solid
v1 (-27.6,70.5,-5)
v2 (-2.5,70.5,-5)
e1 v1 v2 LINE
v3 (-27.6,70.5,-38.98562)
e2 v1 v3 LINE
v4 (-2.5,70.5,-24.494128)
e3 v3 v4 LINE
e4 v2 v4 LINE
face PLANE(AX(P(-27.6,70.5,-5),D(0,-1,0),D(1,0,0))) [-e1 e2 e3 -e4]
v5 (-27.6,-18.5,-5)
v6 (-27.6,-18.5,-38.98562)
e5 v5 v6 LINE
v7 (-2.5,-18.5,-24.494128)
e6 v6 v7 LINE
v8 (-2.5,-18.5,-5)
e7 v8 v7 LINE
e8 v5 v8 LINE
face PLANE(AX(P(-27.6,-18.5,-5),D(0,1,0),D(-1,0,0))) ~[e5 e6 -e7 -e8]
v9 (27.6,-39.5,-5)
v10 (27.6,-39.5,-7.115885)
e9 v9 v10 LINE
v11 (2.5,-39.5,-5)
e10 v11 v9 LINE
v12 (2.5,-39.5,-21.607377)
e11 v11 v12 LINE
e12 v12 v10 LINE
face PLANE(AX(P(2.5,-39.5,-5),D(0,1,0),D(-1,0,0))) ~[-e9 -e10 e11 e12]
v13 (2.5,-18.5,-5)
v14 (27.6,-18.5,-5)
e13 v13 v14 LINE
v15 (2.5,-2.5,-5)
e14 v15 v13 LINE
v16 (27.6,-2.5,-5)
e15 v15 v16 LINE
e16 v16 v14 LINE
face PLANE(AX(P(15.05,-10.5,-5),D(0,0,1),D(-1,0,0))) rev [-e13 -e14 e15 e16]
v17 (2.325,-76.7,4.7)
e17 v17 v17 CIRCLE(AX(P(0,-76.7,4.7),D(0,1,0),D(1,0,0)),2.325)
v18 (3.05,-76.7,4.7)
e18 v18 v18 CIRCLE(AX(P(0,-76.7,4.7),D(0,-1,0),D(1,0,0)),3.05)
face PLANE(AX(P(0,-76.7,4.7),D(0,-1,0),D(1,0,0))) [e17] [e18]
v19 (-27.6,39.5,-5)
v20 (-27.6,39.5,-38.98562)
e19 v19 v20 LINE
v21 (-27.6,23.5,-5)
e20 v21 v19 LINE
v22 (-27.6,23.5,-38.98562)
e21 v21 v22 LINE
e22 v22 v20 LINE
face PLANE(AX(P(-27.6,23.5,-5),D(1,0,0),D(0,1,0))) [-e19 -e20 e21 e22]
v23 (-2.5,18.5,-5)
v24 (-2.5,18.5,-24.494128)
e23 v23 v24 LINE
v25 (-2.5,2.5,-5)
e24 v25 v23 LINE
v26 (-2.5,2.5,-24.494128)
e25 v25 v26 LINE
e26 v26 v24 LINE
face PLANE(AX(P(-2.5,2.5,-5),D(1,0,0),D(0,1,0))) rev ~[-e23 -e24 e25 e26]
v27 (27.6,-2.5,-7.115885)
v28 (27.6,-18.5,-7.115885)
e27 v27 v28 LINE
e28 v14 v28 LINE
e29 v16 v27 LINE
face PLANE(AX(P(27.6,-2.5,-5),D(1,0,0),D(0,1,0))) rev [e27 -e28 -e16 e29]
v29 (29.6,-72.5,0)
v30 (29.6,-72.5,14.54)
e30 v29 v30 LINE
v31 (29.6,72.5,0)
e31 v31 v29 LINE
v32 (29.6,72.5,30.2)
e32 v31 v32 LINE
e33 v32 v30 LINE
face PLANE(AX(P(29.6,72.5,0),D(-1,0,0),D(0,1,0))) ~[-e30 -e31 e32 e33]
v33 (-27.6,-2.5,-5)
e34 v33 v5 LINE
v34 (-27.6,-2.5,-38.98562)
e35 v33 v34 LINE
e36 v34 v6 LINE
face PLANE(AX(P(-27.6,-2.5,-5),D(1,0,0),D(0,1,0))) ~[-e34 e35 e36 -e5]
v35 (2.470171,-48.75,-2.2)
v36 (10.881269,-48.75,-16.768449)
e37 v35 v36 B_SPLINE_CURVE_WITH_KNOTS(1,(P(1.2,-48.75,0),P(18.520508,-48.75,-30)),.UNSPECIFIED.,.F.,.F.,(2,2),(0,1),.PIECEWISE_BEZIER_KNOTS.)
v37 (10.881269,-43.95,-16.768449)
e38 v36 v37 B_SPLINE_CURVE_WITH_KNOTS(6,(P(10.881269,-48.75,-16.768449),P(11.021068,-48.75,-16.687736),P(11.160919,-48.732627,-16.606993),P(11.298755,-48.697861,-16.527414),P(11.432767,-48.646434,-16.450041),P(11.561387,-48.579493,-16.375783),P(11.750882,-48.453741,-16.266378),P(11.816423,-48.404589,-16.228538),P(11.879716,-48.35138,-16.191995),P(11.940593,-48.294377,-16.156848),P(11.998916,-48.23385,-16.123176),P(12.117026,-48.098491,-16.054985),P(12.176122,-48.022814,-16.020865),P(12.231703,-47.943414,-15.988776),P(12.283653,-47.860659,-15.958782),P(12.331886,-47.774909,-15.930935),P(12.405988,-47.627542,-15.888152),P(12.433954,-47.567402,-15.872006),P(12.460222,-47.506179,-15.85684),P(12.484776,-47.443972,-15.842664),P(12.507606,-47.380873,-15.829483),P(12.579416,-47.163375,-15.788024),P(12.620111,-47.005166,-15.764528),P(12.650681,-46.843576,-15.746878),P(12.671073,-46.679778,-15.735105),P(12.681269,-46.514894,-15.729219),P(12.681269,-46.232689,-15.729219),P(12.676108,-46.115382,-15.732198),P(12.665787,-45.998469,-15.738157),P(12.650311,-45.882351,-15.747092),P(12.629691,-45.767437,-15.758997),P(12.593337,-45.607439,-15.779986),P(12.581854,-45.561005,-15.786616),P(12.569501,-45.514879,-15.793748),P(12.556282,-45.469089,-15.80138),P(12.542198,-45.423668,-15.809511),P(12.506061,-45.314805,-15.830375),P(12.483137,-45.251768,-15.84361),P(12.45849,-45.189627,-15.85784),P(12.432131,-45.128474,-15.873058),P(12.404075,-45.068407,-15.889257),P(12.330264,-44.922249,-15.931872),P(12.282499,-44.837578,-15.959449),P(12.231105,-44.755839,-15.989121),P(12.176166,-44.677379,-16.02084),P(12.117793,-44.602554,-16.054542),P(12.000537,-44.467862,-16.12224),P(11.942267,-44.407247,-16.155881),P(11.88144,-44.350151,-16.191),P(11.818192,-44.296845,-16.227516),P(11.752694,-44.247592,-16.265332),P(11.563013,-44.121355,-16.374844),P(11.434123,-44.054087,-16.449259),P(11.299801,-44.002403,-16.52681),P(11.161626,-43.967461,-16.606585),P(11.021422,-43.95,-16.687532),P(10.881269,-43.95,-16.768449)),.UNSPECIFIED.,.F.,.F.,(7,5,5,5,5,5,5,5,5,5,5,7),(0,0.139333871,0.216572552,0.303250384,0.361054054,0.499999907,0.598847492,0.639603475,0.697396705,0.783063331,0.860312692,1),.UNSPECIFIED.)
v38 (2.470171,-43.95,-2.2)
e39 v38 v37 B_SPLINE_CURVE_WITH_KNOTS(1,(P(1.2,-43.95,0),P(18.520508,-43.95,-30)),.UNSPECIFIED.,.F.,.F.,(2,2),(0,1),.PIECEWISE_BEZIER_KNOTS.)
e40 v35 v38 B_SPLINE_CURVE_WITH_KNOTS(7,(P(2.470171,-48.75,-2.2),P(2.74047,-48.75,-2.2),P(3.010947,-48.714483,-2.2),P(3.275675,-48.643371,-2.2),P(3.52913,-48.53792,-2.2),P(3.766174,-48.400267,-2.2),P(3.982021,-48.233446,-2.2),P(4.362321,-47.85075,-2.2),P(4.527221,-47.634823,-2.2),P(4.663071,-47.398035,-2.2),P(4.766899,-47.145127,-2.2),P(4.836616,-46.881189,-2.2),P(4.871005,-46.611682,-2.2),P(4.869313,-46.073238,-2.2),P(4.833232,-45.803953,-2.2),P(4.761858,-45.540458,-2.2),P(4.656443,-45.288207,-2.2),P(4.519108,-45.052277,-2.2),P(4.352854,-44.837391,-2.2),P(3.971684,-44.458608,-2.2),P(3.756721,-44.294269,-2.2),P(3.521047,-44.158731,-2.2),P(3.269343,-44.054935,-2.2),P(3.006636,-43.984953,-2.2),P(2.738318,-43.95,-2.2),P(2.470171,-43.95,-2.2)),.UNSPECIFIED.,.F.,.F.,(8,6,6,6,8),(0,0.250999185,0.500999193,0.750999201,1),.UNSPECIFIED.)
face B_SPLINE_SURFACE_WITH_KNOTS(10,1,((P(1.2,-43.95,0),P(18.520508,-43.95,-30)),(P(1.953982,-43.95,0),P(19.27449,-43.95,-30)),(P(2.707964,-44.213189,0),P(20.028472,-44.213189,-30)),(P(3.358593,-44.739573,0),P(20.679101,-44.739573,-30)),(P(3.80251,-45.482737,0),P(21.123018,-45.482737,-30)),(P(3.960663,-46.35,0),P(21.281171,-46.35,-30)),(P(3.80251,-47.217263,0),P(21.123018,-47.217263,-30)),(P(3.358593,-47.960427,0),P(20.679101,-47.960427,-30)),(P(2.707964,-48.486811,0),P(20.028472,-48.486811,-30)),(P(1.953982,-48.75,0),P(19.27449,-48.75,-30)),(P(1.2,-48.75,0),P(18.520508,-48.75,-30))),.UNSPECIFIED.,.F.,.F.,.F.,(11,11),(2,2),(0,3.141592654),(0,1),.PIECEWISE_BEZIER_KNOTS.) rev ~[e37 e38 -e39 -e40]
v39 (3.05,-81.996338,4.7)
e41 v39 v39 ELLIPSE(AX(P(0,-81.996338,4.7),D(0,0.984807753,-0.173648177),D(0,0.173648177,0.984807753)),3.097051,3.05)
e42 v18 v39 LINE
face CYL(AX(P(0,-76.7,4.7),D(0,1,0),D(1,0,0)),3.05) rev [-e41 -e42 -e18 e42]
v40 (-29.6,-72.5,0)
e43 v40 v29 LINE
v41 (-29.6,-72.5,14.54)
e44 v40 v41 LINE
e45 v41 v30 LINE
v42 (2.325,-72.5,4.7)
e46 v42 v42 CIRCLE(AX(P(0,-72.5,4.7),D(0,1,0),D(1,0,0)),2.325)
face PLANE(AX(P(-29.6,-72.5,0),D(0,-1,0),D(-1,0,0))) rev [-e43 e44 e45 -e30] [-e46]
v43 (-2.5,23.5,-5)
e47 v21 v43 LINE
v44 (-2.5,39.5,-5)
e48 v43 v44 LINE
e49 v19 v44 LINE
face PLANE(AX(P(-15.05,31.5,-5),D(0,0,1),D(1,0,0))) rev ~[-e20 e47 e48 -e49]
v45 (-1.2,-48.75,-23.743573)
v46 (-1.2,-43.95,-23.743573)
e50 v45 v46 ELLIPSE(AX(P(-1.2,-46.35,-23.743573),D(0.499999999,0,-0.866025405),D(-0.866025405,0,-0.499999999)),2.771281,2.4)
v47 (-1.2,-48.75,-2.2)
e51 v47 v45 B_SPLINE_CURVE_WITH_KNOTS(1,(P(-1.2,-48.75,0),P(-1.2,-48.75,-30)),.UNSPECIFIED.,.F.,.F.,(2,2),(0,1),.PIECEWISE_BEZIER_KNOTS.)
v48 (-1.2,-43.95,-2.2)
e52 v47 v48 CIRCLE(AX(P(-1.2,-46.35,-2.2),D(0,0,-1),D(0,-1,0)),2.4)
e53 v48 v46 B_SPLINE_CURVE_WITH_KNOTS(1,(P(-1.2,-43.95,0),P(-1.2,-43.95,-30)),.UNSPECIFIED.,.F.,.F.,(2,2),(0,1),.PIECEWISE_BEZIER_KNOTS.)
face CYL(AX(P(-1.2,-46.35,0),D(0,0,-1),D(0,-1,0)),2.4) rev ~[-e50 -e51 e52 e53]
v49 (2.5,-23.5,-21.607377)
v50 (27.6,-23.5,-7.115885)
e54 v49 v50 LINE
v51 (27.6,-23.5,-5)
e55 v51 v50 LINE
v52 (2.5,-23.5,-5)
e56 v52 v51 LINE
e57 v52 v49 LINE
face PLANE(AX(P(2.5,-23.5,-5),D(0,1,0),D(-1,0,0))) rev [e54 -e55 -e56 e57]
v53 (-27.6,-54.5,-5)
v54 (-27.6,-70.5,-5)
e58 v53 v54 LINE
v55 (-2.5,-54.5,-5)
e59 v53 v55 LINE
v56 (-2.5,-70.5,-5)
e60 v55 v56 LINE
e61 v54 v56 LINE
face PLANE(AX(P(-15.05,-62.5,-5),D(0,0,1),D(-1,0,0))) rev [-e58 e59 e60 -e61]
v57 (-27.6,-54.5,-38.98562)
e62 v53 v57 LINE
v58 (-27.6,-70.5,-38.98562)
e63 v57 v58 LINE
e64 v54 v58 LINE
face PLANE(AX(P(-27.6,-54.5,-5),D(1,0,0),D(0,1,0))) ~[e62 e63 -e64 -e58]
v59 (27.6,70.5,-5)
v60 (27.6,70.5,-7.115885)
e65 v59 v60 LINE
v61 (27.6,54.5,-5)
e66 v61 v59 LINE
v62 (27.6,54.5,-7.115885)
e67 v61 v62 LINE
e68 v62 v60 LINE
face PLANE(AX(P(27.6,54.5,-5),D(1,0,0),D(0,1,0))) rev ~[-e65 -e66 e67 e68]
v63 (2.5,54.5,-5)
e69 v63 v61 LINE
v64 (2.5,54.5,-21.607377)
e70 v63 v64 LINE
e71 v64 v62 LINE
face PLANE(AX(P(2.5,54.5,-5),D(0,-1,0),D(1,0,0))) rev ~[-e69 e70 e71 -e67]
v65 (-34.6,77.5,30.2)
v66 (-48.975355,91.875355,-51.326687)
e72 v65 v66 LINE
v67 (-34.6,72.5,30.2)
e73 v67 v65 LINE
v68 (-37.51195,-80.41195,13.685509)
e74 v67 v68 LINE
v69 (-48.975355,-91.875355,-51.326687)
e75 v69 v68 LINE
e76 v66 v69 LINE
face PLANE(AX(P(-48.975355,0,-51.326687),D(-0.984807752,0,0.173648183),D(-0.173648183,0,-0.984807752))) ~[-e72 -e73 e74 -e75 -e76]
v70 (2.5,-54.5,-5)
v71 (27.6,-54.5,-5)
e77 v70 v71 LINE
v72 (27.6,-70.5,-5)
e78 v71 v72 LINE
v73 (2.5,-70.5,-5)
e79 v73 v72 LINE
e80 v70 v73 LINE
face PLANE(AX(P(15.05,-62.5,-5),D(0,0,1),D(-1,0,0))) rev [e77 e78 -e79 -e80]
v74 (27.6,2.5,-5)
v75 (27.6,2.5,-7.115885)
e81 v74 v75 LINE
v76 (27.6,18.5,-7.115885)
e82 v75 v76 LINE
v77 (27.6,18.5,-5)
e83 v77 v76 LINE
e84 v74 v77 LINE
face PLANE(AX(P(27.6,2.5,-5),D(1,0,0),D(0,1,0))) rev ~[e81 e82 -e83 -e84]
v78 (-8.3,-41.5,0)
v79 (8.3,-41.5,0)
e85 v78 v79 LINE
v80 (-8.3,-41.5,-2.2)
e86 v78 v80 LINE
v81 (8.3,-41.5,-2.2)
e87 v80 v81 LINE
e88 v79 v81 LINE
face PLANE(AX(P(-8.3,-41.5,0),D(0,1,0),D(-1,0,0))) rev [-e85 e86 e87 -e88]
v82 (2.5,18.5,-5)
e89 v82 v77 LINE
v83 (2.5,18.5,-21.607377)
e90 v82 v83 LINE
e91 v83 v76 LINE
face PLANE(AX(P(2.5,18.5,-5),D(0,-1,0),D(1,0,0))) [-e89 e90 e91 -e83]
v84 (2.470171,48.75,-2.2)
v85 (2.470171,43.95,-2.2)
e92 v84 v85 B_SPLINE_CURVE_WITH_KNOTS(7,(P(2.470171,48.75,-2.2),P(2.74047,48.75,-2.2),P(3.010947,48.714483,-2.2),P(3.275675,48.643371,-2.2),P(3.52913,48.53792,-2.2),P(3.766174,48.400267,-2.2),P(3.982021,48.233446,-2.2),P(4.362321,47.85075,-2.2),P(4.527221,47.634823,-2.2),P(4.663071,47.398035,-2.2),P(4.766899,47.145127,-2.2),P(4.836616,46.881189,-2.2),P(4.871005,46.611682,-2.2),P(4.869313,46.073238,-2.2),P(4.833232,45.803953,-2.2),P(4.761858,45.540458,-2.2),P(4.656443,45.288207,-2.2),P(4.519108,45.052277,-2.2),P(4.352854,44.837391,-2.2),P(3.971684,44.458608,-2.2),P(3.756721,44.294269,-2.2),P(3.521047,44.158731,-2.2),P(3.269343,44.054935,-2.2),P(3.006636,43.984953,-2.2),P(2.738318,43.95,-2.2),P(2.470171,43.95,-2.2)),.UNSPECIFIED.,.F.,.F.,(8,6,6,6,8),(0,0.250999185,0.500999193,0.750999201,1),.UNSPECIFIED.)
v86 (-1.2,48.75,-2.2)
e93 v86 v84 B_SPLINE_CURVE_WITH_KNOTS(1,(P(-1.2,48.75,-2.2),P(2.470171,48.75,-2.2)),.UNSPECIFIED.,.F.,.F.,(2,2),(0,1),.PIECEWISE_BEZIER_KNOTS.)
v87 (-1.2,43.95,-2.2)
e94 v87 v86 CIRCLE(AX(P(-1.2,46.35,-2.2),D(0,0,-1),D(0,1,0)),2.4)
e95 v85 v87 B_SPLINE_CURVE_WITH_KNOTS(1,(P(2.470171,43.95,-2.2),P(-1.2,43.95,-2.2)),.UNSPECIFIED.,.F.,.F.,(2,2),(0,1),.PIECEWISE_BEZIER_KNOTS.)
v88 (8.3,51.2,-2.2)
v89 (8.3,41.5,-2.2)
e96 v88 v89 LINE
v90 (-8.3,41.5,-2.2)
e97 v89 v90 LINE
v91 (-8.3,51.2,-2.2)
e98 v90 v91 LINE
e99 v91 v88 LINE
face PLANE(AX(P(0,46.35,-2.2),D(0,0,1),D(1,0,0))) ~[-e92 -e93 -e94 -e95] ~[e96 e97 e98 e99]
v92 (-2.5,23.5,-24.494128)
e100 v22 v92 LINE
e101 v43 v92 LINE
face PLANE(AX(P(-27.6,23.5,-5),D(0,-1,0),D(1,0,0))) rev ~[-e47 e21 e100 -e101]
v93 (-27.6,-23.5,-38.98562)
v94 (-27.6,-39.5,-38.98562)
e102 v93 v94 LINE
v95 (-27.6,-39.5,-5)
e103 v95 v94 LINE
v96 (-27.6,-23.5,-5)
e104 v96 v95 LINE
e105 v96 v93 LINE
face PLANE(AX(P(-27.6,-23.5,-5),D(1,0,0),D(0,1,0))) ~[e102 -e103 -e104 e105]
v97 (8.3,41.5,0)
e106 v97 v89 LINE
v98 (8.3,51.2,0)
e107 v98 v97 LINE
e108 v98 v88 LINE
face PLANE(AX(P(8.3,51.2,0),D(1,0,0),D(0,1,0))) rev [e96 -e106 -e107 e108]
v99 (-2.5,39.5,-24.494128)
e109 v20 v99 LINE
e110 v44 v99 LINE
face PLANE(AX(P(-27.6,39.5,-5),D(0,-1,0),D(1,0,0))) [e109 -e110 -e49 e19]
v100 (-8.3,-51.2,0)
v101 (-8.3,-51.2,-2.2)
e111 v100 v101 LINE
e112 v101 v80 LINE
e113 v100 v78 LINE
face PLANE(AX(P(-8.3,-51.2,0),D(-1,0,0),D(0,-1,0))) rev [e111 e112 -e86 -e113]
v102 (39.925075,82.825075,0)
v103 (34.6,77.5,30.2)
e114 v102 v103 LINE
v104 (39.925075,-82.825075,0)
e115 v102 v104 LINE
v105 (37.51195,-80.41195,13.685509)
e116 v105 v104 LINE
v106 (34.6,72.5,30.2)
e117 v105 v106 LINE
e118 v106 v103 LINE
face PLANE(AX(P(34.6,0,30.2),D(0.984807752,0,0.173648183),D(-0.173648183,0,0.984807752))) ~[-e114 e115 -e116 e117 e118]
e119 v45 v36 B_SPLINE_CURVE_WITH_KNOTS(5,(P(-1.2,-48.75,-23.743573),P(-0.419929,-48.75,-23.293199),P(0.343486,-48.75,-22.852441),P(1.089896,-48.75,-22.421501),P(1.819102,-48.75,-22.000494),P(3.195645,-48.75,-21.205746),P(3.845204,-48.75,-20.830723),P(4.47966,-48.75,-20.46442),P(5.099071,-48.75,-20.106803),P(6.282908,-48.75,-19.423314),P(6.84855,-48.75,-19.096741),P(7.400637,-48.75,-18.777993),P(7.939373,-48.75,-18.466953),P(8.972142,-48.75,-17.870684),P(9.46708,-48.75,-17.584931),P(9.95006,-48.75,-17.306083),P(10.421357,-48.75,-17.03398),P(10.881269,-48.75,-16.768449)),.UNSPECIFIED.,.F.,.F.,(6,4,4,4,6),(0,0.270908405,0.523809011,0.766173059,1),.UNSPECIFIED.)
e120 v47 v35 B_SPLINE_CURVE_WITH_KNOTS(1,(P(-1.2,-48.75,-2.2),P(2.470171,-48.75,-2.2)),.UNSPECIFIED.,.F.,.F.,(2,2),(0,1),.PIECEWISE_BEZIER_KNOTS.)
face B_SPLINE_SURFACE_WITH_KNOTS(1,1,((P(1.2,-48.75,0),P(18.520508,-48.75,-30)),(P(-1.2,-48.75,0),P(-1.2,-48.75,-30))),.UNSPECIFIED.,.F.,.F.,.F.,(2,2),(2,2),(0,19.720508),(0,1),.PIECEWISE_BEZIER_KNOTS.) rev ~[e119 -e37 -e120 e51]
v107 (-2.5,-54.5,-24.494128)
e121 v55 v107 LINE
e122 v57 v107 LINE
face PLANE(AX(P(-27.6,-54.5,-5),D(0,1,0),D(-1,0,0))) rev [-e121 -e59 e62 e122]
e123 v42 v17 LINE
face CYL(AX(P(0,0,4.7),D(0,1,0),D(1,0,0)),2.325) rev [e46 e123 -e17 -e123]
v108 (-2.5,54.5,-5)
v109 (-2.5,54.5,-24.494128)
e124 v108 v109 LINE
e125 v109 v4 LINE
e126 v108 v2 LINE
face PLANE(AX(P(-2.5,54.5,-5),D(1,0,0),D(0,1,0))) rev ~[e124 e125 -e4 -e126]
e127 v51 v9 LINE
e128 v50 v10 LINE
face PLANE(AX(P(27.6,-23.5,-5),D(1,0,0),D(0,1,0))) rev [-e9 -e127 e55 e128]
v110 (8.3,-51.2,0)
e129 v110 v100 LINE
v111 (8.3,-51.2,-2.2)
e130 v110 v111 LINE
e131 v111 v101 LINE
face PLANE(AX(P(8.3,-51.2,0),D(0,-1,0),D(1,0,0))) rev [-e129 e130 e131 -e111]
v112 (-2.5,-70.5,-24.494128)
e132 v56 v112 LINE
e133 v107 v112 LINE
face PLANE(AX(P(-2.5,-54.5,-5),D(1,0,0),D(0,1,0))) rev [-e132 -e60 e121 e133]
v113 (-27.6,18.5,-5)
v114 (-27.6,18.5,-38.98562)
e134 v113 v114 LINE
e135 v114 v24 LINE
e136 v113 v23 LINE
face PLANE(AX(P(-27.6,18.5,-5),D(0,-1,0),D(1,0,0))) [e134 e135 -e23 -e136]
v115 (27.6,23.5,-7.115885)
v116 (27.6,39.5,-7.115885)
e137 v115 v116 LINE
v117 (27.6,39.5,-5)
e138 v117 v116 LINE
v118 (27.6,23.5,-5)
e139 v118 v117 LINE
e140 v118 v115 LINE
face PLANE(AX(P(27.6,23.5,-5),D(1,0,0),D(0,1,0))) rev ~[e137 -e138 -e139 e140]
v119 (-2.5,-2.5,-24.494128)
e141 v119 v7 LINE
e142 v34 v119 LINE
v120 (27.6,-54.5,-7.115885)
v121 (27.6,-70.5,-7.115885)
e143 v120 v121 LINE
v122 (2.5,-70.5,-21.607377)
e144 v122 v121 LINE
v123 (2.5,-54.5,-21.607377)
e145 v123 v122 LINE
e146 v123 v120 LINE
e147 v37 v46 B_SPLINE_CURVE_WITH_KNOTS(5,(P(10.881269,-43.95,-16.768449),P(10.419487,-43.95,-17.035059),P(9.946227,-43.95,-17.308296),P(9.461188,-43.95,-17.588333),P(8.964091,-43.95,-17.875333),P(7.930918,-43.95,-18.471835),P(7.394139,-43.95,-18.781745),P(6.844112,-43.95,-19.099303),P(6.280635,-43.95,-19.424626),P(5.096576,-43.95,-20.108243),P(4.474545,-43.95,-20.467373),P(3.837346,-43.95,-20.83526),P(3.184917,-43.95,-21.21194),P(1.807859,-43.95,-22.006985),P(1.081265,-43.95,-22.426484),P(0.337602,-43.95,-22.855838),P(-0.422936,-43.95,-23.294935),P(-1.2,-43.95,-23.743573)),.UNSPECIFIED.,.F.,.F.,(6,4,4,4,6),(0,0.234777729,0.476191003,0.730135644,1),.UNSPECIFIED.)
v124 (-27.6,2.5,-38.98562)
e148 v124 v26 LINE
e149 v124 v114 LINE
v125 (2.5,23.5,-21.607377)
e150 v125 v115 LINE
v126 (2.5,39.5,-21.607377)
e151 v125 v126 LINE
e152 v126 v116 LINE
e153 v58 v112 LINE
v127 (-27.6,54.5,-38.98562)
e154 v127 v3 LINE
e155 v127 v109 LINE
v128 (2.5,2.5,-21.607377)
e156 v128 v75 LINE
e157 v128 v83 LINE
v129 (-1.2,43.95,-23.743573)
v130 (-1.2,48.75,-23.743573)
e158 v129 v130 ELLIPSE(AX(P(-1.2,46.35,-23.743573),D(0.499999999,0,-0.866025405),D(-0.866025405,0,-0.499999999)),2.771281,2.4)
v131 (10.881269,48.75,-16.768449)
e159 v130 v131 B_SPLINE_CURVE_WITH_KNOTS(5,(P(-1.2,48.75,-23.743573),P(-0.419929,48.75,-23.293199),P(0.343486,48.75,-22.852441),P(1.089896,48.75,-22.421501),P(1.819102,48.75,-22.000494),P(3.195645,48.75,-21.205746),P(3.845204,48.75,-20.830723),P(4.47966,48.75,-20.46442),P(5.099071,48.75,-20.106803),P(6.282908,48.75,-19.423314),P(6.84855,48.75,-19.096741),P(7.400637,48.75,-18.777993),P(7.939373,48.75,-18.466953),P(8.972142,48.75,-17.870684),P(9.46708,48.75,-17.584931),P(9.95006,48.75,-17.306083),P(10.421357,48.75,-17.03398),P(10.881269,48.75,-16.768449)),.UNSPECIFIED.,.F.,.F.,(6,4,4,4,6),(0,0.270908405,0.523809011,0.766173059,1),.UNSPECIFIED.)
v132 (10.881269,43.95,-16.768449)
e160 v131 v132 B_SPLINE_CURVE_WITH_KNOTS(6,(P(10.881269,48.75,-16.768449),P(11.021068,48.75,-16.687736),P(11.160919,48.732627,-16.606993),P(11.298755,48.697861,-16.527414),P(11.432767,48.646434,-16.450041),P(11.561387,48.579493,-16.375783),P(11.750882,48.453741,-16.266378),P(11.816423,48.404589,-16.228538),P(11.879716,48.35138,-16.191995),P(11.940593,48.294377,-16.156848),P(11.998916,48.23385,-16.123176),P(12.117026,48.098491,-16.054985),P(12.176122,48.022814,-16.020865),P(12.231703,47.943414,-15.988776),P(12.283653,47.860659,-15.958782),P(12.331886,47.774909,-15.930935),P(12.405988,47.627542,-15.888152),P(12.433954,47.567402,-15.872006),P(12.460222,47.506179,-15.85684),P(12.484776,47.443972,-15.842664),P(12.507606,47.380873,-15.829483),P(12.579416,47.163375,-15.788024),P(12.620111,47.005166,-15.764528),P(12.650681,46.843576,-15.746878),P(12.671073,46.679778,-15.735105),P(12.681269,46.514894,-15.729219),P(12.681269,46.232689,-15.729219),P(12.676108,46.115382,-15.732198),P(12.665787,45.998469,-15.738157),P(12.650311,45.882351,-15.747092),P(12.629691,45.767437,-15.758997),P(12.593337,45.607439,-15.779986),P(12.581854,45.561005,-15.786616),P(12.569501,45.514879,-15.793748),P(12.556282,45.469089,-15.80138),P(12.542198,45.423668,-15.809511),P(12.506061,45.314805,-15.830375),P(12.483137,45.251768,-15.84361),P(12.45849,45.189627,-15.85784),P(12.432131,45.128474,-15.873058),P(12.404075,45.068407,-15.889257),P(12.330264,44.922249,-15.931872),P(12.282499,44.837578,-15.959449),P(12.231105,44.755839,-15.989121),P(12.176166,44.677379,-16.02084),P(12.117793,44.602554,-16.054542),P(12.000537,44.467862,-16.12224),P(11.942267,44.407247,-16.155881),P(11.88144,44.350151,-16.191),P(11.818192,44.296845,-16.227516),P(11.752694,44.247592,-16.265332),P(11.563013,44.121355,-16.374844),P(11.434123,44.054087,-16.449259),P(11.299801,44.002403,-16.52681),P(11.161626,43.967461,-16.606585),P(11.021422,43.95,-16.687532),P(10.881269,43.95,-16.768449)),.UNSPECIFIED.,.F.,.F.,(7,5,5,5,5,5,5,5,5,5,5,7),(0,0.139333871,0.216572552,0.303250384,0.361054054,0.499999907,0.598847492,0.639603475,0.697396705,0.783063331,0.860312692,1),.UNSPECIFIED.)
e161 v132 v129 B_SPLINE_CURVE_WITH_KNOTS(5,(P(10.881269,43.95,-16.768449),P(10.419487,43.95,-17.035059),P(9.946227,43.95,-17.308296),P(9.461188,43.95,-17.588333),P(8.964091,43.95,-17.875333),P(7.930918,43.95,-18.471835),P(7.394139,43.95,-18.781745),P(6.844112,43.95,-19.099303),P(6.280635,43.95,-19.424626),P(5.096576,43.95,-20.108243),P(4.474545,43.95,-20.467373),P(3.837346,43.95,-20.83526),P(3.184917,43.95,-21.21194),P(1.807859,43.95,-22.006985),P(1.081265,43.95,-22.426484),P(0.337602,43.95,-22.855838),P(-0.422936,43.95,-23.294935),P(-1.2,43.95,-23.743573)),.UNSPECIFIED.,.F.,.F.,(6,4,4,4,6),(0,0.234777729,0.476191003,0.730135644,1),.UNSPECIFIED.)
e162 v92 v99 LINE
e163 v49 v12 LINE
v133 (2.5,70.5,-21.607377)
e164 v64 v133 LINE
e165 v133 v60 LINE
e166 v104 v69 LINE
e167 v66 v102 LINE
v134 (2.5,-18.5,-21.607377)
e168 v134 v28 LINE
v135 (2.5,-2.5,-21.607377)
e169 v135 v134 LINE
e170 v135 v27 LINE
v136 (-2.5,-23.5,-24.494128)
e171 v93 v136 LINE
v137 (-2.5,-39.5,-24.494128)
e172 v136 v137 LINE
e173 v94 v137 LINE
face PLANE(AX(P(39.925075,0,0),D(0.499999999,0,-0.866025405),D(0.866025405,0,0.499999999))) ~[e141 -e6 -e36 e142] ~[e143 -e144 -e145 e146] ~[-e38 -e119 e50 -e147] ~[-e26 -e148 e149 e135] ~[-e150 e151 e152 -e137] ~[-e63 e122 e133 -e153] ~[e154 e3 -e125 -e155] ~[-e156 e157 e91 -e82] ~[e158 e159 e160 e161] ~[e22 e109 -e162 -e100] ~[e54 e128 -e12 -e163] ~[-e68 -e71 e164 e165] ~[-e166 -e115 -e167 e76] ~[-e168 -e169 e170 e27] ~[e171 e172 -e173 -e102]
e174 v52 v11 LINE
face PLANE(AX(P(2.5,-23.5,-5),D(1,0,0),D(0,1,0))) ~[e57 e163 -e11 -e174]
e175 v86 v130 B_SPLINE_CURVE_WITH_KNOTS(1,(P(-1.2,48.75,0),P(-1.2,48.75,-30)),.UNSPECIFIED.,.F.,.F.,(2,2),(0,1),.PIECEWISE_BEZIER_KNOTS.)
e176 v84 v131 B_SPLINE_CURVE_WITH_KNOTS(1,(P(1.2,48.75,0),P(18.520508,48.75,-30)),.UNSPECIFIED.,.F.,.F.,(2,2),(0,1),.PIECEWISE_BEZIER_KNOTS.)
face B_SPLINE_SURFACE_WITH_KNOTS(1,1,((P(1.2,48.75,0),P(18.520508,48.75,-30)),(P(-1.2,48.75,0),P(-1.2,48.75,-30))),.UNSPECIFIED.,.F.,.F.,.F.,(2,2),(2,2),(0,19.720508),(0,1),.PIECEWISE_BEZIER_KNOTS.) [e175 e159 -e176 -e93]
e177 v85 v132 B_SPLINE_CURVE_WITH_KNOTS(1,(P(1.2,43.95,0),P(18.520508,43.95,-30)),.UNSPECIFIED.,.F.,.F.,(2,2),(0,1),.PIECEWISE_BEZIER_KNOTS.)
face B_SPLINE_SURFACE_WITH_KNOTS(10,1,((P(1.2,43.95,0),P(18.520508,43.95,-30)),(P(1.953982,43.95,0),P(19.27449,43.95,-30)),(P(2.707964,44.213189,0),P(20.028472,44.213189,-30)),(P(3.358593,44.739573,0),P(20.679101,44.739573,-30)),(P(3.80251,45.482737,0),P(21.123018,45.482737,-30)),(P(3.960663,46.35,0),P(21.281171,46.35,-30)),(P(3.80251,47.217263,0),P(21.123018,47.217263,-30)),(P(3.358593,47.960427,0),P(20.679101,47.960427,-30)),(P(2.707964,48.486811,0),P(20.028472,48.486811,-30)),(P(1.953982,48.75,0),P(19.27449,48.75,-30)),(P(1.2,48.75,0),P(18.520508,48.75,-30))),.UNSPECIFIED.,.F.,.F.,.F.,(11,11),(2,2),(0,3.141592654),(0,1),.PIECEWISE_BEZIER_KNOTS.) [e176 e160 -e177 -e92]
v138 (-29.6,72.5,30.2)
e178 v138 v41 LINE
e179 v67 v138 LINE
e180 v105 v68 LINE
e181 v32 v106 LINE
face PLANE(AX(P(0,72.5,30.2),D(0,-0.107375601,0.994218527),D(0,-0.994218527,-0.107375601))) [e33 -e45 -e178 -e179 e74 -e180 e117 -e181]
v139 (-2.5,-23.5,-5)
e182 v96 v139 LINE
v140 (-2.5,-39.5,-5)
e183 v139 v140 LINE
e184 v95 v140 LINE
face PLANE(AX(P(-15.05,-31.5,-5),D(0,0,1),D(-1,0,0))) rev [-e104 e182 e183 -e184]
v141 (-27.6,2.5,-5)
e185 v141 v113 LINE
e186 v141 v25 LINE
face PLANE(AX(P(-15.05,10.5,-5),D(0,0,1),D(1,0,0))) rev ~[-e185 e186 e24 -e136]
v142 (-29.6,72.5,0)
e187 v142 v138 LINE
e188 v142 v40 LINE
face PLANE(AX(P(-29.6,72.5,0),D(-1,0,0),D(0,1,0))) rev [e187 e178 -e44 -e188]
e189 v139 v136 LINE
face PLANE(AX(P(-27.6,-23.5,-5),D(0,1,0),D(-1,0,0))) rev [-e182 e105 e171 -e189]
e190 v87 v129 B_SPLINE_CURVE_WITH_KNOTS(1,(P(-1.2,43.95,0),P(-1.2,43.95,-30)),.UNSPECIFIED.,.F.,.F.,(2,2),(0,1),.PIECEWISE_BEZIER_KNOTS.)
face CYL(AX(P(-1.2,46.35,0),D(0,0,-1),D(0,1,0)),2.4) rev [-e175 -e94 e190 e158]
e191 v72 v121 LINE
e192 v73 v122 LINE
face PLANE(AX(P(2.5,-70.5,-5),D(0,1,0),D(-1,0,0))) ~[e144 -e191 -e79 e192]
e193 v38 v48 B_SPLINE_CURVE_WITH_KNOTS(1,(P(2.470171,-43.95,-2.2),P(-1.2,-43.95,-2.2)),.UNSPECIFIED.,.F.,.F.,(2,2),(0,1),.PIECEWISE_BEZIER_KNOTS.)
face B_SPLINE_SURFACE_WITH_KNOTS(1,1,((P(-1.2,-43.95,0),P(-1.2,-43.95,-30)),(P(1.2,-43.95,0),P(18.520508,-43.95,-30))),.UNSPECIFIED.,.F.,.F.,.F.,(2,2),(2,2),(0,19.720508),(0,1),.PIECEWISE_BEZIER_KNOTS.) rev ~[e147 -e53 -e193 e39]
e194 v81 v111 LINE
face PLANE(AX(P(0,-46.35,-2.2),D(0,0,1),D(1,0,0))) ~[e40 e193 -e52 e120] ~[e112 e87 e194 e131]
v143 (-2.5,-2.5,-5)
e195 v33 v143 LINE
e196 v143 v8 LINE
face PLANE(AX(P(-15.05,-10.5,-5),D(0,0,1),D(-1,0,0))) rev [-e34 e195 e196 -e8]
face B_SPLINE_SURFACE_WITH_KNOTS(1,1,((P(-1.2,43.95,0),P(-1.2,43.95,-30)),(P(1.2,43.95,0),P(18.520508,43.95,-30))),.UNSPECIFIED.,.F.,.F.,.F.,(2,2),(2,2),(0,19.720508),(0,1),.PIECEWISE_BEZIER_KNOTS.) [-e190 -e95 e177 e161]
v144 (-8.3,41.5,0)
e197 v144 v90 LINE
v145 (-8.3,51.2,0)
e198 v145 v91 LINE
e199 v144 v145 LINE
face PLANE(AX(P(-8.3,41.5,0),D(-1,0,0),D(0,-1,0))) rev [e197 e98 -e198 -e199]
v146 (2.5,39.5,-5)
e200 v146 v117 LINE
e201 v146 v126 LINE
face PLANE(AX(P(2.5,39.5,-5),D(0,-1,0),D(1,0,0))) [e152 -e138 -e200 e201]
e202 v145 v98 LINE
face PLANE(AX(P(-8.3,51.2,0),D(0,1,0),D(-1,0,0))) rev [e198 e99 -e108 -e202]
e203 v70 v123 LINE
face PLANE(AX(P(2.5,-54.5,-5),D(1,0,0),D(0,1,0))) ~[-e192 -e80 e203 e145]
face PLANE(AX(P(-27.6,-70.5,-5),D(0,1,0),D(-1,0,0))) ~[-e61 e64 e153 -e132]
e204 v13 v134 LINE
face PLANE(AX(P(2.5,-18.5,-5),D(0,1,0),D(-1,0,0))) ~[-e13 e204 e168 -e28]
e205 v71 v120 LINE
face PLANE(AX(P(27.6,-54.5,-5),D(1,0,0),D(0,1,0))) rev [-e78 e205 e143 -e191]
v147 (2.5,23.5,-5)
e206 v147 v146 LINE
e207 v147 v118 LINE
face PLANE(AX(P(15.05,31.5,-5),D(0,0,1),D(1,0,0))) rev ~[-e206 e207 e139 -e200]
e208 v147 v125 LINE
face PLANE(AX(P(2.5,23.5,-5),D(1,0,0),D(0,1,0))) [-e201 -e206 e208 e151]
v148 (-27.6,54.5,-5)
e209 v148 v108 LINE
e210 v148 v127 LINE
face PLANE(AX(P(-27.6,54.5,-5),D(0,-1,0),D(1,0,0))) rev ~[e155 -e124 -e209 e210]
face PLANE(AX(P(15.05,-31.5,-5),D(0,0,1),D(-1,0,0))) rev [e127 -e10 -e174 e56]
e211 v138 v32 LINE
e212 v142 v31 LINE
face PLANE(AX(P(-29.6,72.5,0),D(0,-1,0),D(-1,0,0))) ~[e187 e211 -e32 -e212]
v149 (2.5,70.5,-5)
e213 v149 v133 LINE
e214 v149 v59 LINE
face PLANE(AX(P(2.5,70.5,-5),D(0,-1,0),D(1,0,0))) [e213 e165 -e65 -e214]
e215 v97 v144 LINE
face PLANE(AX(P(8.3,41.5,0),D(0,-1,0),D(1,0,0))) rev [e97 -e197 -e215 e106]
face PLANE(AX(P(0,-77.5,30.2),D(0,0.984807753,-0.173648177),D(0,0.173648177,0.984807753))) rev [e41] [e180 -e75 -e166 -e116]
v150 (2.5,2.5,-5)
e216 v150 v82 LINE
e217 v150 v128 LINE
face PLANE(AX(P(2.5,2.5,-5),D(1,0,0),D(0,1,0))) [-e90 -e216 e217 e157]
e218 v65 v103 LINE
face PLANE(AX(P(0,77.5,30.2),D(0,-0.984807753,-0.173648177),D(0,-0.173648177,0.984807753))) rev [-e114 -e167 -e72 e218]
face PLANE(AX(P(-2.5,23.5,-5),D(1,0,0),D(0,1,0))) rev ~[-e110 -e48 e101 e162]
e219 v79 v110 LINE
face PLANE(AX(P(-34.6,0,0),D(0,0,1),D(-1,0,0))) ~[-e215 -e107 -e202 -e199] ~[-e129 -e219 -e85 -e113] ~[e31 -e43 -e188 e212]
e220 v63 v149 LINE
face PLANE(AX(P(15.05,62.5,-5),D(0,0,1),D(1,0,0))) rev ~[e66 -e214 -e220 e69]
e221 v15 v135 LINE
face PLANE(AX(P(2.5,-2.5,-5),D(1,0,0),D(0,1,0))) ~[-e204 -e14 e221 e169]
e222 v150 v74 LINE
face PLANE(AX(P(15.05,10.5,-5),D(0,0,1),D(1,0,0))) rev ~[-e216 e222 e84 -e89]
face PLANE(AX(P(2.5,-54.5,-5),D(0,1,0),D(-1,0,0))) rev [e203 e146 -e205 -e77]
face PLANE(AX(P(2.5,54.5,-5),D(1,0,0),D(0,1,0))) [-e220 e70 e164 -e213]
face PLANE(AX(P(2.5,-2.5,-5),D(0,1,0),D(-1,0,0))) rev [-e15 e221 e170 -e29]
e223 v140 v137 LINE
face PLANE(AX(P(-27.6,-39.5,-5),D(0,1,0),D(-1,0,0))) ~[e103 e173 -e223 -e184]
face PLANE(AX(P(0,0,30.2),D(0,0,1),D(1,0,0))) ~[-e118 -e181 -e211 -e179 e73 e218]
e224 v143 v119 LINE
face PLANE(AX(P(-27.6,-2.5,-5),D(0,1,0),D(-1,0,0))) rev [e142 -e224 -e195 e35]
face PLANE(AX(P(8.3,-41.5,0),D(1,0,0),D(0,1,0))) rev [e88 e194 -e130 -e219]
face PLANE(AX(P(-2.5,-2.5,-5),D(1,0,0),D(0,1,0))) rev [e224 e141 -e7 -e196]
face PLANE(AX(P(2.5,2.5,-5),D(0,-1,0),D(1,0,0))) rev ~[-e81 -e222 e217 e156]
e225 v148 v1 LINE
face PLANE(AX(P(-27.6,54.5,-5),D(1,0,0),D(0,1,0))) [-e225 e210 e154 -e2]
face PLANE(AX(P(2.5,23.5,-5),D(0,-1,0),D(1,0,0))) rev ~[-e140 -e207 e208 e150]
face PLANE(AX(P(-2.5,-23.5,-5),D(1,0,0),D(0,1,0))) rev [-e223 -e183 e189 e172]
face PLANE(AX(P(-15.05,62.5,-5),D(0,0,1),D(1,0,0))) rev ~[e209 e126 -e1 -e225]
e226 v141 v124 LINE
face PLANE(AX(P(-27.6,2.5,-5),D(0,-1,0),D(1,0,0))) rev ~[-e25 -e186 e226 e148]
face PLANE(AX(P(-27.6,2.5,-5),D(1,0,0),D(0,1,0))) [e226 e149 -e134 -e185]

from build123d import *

# Parameters (mm, degrees)
EXTRUDE008_START = 76.7
SKETCH009_R      = 3.05
EXTRUDE008_DEPTH = 923.3
EXTRUDE007_START = -5
SKETCH008_W      = 25.1
SKETCH008_H      = 16
EXTRUDE007_DEPTH = 75
EXTRUDE006_DEPTH = 60
SKETCH004_R      = 2.325
EXTRUDE005_DEPTH = 150
EXTRUDE004_DEPTH = 2.2
EXTRUDE003_DEPTH = 50
EXTRUDE001_DEPTH = 107.5
SKETCH_W         = 69.2
SKETCH_H         = 215
EXTRUDE_DEPTH    = 30.2


with BuildPart() as extrude008:
    # Sketch009 → Extrude008 (new body)
    with BuildSketch(Plane.XZ.offset(EXTRUDE008_START)):
        with Locations((0, 4.7)):
            Circle(SKETCH009_R)
    extrude(amount=EXTRUDE008_DEPTH)


with BuildPart() as extrude007:
    # Sketch008 → Extrude007 (new body)
    with BuildSketch(Plane.XY.offset(EXTRUDE007_START)):
        with Locations((-15.05, 62.5)):
            Rectangle(SKETCH008_W, SKETCH008_H)
        with Locations((15.05, 62.5)):
            Rectangle(SKETCH008_W, SKETCH008_H)
        with Locations((-15.05, 31.5)):
            Rectangle(SKETCH008_W, SKETCH008_H)
        with Locations((15.05, 31.5)):
            Rectangle(SKETCH008_W, SKETCH008_H)
        with Locations((15.05, 10.5)):
            Rectangle(SKETCH008_W, SKETCH008_H)
        with Locations((-15.05, 10.5)):
            Rectangle(SKETCH008_W, SKETCH008_H)
    extrude(amount=-EXTRUDE007_DEPTH)


with BuildPart() as part_mirroring002:
    # Part__Mirroring002: instance of Extrude007
    add(extrude007.part.mirror(Plane(origin=(0, 0, 0), x_dir=(1, 0, 0), z_dir=(0, 1, 0))))


with BuildPart() as screwslotupper:
    # Sketch006 → Loft section 0
    with BuildSketch(Plane.XY):
        with BuildLine():
            ThreePointArc((-1.2, 48.75), (-3.6, 46.35), (-1.2, 43.95))
            Line((-1.2, 43.95), (1.2, 43.95))
            ThreePointArc((1.2, 43.95), (3.6, 46.35), (1.2, 48.75))
            Line((1.2, 48.75), (-1.2, 48.75))
        make_face()
    # Sketch007 → Loft section 1
    with BuildSketch(Plane.XY.offset(-30)):
        with BuildLine():
            ThreePointArc((-1.2, 48.75), (-3.6, 46.35), (-1.2, 43.95))
            Line((-1.2, 43.95), (18.520508, 43.95))
            ThreePointArc((18.520508, 43.95), (20.920508, 46.35), (18.520508, 48.75))
            Line((18.520508, 48.75), (-1.2, 48.75))
        make_face()
    loft()


with BuildPart() as screwslotlower:
    # Part__Mirroring001: instance of ScrewSlotUpper
    add(screwslotupper.part.mirror(Plane(origin=(0, 0, 0), x_dir=(1, 0, 0), z_dir=(0, 1, 0))))


with BuildPart() as anglefacecutout:
    # Sketch005 → Extrude006 (new body, symmetric)
    with BuildSketch(Plane.YZ):
        Polygon((-117.5, 9.68), (-117.5, 30.2), (72.5, 30.2), align=None)
    extrude(amount=EXTRUDE006_DEPTH, both=True)


with BuildPart() as securityhole:
    # Sketch004 → Extrude005 (new body)
    with BuildSketch(Plane.XZ):
        with Locations((0, 4.7)):
            Circle(SKETCH004_R)
    extrude(amount=EXTRUDE005_DEPTH)


with BuildPart() as mountingsquares:
    # Sketch001 → Extrude004 (new body)
    with BuildSketch(Plane.XY):
        Polygon((0, 51.2), (-8.3, 51.2), (-8.3, 46.35), (-8.3, 41.5), (0, 41.5), (8.3, 41.5), (8.3, 46.35), (8.3, 51.2), align=None)
        Polygon((0, -51.2), (8.3, -51.2), (8.3, -46.35), (8.3, -41.5), (0, -41.5), (-8.3, -41.5), (-8.3, -46.35), (-8.3, -51.2), align=None)
    extrude(amount=-EXTRUDE004_DEPTH)


with BuildPart() as topbottomanglecutout:
    # Sketch003 → Extrude003 (new body, symmetric)
    with BuildSketch(Plane.YZ):
        Polygon((-77.5, 30.2), (-95.132698, -69.8), (-145.132698, -69.8), (-145.132698, 30.2), (-95.132698, 30.2), align=None)
        Polygon((77.5, 30.2), (95.132698, -69.8), (145.132698, -69.8), (145.132698, 30.2), (95.132698, 30.2), align=None)
    extrude(amount=EXTRUDE003_DEPTH, both=True)


with BuildPart() as extrude001:
    # Sketch002 → Extrude001 (new body, symmetric)
    with BuildSketch(Plane.XZ):
        Polygon((0, 0), (-34.6, 0), (-34.6, 30.2), (-39.925075, 0), (48.975355, -51.326687), (34.6, 30.2), (34.6, 0), align=None)
    extrude(amount=EXTRUDE001_DEPTH, both=True)


with BuildPart() as cut001:
    # Sketch → Extrude (new body)
    with BuildSketch(Plane.XY):
        Rectangle(SKETCH_W, SKETCH_H)
        Polygon((29.6, 72.5), (-29.6, 72.5), (-29.6, -72.5), (0, -72.5), (29.6, -72.5), (29.6, 0), align=None, mode=Mode.SUBTRACT)
    extrude(amount=EXTRUDE_DEPTH)

    # Fusion: union Extrude001
    add(extrude001.part)

    # Cut: cut TopBottomAngleCutout
    add(topbottomanglecutout.part, mode=Mode.SUBTRACT)

    # Cut001: cut MountingSquares
    add(mountingsquares.part, mode=Mode.SUBTRACT)


with BuildPart() as cut008:
    # Part__Mirroring: instance of Cut001
    add(cut001.part.mirror(Plane(origin=(0, 0, 0), x_dir=(0, -1, 0), z_dir=(1, 0, 0))))

    # Cut002: cut SecurityHole
    add(securityhole.part, mode=Mode.SUBTRACT)

    # Cut003: cut AngleFaceCutout
    add(anglefacecutout.part, mode=Mode.SUBTRACT)

    # Cut004: cut ScrewSlotUpper
    add(screwslotupper.part, mode=Mode.SUBTRACT)

    # Cut005: cut ScrewSlotLower
    add(screwslotlower.part, mode=Mode.SUBTRACT)

    # Cut006: cut Part__Mirroring002
    add(part_mirroring002.part, mode=Mode.SUBTRACT)

    # Cut007: cut Extrude007
    add(extrude007.part, mode=Mode.SUBTRACT)

    # Cut008: cut Extrude008
    add(extrude008.part, mode=Mode.SUBTRACT)


solid = cut008.part
